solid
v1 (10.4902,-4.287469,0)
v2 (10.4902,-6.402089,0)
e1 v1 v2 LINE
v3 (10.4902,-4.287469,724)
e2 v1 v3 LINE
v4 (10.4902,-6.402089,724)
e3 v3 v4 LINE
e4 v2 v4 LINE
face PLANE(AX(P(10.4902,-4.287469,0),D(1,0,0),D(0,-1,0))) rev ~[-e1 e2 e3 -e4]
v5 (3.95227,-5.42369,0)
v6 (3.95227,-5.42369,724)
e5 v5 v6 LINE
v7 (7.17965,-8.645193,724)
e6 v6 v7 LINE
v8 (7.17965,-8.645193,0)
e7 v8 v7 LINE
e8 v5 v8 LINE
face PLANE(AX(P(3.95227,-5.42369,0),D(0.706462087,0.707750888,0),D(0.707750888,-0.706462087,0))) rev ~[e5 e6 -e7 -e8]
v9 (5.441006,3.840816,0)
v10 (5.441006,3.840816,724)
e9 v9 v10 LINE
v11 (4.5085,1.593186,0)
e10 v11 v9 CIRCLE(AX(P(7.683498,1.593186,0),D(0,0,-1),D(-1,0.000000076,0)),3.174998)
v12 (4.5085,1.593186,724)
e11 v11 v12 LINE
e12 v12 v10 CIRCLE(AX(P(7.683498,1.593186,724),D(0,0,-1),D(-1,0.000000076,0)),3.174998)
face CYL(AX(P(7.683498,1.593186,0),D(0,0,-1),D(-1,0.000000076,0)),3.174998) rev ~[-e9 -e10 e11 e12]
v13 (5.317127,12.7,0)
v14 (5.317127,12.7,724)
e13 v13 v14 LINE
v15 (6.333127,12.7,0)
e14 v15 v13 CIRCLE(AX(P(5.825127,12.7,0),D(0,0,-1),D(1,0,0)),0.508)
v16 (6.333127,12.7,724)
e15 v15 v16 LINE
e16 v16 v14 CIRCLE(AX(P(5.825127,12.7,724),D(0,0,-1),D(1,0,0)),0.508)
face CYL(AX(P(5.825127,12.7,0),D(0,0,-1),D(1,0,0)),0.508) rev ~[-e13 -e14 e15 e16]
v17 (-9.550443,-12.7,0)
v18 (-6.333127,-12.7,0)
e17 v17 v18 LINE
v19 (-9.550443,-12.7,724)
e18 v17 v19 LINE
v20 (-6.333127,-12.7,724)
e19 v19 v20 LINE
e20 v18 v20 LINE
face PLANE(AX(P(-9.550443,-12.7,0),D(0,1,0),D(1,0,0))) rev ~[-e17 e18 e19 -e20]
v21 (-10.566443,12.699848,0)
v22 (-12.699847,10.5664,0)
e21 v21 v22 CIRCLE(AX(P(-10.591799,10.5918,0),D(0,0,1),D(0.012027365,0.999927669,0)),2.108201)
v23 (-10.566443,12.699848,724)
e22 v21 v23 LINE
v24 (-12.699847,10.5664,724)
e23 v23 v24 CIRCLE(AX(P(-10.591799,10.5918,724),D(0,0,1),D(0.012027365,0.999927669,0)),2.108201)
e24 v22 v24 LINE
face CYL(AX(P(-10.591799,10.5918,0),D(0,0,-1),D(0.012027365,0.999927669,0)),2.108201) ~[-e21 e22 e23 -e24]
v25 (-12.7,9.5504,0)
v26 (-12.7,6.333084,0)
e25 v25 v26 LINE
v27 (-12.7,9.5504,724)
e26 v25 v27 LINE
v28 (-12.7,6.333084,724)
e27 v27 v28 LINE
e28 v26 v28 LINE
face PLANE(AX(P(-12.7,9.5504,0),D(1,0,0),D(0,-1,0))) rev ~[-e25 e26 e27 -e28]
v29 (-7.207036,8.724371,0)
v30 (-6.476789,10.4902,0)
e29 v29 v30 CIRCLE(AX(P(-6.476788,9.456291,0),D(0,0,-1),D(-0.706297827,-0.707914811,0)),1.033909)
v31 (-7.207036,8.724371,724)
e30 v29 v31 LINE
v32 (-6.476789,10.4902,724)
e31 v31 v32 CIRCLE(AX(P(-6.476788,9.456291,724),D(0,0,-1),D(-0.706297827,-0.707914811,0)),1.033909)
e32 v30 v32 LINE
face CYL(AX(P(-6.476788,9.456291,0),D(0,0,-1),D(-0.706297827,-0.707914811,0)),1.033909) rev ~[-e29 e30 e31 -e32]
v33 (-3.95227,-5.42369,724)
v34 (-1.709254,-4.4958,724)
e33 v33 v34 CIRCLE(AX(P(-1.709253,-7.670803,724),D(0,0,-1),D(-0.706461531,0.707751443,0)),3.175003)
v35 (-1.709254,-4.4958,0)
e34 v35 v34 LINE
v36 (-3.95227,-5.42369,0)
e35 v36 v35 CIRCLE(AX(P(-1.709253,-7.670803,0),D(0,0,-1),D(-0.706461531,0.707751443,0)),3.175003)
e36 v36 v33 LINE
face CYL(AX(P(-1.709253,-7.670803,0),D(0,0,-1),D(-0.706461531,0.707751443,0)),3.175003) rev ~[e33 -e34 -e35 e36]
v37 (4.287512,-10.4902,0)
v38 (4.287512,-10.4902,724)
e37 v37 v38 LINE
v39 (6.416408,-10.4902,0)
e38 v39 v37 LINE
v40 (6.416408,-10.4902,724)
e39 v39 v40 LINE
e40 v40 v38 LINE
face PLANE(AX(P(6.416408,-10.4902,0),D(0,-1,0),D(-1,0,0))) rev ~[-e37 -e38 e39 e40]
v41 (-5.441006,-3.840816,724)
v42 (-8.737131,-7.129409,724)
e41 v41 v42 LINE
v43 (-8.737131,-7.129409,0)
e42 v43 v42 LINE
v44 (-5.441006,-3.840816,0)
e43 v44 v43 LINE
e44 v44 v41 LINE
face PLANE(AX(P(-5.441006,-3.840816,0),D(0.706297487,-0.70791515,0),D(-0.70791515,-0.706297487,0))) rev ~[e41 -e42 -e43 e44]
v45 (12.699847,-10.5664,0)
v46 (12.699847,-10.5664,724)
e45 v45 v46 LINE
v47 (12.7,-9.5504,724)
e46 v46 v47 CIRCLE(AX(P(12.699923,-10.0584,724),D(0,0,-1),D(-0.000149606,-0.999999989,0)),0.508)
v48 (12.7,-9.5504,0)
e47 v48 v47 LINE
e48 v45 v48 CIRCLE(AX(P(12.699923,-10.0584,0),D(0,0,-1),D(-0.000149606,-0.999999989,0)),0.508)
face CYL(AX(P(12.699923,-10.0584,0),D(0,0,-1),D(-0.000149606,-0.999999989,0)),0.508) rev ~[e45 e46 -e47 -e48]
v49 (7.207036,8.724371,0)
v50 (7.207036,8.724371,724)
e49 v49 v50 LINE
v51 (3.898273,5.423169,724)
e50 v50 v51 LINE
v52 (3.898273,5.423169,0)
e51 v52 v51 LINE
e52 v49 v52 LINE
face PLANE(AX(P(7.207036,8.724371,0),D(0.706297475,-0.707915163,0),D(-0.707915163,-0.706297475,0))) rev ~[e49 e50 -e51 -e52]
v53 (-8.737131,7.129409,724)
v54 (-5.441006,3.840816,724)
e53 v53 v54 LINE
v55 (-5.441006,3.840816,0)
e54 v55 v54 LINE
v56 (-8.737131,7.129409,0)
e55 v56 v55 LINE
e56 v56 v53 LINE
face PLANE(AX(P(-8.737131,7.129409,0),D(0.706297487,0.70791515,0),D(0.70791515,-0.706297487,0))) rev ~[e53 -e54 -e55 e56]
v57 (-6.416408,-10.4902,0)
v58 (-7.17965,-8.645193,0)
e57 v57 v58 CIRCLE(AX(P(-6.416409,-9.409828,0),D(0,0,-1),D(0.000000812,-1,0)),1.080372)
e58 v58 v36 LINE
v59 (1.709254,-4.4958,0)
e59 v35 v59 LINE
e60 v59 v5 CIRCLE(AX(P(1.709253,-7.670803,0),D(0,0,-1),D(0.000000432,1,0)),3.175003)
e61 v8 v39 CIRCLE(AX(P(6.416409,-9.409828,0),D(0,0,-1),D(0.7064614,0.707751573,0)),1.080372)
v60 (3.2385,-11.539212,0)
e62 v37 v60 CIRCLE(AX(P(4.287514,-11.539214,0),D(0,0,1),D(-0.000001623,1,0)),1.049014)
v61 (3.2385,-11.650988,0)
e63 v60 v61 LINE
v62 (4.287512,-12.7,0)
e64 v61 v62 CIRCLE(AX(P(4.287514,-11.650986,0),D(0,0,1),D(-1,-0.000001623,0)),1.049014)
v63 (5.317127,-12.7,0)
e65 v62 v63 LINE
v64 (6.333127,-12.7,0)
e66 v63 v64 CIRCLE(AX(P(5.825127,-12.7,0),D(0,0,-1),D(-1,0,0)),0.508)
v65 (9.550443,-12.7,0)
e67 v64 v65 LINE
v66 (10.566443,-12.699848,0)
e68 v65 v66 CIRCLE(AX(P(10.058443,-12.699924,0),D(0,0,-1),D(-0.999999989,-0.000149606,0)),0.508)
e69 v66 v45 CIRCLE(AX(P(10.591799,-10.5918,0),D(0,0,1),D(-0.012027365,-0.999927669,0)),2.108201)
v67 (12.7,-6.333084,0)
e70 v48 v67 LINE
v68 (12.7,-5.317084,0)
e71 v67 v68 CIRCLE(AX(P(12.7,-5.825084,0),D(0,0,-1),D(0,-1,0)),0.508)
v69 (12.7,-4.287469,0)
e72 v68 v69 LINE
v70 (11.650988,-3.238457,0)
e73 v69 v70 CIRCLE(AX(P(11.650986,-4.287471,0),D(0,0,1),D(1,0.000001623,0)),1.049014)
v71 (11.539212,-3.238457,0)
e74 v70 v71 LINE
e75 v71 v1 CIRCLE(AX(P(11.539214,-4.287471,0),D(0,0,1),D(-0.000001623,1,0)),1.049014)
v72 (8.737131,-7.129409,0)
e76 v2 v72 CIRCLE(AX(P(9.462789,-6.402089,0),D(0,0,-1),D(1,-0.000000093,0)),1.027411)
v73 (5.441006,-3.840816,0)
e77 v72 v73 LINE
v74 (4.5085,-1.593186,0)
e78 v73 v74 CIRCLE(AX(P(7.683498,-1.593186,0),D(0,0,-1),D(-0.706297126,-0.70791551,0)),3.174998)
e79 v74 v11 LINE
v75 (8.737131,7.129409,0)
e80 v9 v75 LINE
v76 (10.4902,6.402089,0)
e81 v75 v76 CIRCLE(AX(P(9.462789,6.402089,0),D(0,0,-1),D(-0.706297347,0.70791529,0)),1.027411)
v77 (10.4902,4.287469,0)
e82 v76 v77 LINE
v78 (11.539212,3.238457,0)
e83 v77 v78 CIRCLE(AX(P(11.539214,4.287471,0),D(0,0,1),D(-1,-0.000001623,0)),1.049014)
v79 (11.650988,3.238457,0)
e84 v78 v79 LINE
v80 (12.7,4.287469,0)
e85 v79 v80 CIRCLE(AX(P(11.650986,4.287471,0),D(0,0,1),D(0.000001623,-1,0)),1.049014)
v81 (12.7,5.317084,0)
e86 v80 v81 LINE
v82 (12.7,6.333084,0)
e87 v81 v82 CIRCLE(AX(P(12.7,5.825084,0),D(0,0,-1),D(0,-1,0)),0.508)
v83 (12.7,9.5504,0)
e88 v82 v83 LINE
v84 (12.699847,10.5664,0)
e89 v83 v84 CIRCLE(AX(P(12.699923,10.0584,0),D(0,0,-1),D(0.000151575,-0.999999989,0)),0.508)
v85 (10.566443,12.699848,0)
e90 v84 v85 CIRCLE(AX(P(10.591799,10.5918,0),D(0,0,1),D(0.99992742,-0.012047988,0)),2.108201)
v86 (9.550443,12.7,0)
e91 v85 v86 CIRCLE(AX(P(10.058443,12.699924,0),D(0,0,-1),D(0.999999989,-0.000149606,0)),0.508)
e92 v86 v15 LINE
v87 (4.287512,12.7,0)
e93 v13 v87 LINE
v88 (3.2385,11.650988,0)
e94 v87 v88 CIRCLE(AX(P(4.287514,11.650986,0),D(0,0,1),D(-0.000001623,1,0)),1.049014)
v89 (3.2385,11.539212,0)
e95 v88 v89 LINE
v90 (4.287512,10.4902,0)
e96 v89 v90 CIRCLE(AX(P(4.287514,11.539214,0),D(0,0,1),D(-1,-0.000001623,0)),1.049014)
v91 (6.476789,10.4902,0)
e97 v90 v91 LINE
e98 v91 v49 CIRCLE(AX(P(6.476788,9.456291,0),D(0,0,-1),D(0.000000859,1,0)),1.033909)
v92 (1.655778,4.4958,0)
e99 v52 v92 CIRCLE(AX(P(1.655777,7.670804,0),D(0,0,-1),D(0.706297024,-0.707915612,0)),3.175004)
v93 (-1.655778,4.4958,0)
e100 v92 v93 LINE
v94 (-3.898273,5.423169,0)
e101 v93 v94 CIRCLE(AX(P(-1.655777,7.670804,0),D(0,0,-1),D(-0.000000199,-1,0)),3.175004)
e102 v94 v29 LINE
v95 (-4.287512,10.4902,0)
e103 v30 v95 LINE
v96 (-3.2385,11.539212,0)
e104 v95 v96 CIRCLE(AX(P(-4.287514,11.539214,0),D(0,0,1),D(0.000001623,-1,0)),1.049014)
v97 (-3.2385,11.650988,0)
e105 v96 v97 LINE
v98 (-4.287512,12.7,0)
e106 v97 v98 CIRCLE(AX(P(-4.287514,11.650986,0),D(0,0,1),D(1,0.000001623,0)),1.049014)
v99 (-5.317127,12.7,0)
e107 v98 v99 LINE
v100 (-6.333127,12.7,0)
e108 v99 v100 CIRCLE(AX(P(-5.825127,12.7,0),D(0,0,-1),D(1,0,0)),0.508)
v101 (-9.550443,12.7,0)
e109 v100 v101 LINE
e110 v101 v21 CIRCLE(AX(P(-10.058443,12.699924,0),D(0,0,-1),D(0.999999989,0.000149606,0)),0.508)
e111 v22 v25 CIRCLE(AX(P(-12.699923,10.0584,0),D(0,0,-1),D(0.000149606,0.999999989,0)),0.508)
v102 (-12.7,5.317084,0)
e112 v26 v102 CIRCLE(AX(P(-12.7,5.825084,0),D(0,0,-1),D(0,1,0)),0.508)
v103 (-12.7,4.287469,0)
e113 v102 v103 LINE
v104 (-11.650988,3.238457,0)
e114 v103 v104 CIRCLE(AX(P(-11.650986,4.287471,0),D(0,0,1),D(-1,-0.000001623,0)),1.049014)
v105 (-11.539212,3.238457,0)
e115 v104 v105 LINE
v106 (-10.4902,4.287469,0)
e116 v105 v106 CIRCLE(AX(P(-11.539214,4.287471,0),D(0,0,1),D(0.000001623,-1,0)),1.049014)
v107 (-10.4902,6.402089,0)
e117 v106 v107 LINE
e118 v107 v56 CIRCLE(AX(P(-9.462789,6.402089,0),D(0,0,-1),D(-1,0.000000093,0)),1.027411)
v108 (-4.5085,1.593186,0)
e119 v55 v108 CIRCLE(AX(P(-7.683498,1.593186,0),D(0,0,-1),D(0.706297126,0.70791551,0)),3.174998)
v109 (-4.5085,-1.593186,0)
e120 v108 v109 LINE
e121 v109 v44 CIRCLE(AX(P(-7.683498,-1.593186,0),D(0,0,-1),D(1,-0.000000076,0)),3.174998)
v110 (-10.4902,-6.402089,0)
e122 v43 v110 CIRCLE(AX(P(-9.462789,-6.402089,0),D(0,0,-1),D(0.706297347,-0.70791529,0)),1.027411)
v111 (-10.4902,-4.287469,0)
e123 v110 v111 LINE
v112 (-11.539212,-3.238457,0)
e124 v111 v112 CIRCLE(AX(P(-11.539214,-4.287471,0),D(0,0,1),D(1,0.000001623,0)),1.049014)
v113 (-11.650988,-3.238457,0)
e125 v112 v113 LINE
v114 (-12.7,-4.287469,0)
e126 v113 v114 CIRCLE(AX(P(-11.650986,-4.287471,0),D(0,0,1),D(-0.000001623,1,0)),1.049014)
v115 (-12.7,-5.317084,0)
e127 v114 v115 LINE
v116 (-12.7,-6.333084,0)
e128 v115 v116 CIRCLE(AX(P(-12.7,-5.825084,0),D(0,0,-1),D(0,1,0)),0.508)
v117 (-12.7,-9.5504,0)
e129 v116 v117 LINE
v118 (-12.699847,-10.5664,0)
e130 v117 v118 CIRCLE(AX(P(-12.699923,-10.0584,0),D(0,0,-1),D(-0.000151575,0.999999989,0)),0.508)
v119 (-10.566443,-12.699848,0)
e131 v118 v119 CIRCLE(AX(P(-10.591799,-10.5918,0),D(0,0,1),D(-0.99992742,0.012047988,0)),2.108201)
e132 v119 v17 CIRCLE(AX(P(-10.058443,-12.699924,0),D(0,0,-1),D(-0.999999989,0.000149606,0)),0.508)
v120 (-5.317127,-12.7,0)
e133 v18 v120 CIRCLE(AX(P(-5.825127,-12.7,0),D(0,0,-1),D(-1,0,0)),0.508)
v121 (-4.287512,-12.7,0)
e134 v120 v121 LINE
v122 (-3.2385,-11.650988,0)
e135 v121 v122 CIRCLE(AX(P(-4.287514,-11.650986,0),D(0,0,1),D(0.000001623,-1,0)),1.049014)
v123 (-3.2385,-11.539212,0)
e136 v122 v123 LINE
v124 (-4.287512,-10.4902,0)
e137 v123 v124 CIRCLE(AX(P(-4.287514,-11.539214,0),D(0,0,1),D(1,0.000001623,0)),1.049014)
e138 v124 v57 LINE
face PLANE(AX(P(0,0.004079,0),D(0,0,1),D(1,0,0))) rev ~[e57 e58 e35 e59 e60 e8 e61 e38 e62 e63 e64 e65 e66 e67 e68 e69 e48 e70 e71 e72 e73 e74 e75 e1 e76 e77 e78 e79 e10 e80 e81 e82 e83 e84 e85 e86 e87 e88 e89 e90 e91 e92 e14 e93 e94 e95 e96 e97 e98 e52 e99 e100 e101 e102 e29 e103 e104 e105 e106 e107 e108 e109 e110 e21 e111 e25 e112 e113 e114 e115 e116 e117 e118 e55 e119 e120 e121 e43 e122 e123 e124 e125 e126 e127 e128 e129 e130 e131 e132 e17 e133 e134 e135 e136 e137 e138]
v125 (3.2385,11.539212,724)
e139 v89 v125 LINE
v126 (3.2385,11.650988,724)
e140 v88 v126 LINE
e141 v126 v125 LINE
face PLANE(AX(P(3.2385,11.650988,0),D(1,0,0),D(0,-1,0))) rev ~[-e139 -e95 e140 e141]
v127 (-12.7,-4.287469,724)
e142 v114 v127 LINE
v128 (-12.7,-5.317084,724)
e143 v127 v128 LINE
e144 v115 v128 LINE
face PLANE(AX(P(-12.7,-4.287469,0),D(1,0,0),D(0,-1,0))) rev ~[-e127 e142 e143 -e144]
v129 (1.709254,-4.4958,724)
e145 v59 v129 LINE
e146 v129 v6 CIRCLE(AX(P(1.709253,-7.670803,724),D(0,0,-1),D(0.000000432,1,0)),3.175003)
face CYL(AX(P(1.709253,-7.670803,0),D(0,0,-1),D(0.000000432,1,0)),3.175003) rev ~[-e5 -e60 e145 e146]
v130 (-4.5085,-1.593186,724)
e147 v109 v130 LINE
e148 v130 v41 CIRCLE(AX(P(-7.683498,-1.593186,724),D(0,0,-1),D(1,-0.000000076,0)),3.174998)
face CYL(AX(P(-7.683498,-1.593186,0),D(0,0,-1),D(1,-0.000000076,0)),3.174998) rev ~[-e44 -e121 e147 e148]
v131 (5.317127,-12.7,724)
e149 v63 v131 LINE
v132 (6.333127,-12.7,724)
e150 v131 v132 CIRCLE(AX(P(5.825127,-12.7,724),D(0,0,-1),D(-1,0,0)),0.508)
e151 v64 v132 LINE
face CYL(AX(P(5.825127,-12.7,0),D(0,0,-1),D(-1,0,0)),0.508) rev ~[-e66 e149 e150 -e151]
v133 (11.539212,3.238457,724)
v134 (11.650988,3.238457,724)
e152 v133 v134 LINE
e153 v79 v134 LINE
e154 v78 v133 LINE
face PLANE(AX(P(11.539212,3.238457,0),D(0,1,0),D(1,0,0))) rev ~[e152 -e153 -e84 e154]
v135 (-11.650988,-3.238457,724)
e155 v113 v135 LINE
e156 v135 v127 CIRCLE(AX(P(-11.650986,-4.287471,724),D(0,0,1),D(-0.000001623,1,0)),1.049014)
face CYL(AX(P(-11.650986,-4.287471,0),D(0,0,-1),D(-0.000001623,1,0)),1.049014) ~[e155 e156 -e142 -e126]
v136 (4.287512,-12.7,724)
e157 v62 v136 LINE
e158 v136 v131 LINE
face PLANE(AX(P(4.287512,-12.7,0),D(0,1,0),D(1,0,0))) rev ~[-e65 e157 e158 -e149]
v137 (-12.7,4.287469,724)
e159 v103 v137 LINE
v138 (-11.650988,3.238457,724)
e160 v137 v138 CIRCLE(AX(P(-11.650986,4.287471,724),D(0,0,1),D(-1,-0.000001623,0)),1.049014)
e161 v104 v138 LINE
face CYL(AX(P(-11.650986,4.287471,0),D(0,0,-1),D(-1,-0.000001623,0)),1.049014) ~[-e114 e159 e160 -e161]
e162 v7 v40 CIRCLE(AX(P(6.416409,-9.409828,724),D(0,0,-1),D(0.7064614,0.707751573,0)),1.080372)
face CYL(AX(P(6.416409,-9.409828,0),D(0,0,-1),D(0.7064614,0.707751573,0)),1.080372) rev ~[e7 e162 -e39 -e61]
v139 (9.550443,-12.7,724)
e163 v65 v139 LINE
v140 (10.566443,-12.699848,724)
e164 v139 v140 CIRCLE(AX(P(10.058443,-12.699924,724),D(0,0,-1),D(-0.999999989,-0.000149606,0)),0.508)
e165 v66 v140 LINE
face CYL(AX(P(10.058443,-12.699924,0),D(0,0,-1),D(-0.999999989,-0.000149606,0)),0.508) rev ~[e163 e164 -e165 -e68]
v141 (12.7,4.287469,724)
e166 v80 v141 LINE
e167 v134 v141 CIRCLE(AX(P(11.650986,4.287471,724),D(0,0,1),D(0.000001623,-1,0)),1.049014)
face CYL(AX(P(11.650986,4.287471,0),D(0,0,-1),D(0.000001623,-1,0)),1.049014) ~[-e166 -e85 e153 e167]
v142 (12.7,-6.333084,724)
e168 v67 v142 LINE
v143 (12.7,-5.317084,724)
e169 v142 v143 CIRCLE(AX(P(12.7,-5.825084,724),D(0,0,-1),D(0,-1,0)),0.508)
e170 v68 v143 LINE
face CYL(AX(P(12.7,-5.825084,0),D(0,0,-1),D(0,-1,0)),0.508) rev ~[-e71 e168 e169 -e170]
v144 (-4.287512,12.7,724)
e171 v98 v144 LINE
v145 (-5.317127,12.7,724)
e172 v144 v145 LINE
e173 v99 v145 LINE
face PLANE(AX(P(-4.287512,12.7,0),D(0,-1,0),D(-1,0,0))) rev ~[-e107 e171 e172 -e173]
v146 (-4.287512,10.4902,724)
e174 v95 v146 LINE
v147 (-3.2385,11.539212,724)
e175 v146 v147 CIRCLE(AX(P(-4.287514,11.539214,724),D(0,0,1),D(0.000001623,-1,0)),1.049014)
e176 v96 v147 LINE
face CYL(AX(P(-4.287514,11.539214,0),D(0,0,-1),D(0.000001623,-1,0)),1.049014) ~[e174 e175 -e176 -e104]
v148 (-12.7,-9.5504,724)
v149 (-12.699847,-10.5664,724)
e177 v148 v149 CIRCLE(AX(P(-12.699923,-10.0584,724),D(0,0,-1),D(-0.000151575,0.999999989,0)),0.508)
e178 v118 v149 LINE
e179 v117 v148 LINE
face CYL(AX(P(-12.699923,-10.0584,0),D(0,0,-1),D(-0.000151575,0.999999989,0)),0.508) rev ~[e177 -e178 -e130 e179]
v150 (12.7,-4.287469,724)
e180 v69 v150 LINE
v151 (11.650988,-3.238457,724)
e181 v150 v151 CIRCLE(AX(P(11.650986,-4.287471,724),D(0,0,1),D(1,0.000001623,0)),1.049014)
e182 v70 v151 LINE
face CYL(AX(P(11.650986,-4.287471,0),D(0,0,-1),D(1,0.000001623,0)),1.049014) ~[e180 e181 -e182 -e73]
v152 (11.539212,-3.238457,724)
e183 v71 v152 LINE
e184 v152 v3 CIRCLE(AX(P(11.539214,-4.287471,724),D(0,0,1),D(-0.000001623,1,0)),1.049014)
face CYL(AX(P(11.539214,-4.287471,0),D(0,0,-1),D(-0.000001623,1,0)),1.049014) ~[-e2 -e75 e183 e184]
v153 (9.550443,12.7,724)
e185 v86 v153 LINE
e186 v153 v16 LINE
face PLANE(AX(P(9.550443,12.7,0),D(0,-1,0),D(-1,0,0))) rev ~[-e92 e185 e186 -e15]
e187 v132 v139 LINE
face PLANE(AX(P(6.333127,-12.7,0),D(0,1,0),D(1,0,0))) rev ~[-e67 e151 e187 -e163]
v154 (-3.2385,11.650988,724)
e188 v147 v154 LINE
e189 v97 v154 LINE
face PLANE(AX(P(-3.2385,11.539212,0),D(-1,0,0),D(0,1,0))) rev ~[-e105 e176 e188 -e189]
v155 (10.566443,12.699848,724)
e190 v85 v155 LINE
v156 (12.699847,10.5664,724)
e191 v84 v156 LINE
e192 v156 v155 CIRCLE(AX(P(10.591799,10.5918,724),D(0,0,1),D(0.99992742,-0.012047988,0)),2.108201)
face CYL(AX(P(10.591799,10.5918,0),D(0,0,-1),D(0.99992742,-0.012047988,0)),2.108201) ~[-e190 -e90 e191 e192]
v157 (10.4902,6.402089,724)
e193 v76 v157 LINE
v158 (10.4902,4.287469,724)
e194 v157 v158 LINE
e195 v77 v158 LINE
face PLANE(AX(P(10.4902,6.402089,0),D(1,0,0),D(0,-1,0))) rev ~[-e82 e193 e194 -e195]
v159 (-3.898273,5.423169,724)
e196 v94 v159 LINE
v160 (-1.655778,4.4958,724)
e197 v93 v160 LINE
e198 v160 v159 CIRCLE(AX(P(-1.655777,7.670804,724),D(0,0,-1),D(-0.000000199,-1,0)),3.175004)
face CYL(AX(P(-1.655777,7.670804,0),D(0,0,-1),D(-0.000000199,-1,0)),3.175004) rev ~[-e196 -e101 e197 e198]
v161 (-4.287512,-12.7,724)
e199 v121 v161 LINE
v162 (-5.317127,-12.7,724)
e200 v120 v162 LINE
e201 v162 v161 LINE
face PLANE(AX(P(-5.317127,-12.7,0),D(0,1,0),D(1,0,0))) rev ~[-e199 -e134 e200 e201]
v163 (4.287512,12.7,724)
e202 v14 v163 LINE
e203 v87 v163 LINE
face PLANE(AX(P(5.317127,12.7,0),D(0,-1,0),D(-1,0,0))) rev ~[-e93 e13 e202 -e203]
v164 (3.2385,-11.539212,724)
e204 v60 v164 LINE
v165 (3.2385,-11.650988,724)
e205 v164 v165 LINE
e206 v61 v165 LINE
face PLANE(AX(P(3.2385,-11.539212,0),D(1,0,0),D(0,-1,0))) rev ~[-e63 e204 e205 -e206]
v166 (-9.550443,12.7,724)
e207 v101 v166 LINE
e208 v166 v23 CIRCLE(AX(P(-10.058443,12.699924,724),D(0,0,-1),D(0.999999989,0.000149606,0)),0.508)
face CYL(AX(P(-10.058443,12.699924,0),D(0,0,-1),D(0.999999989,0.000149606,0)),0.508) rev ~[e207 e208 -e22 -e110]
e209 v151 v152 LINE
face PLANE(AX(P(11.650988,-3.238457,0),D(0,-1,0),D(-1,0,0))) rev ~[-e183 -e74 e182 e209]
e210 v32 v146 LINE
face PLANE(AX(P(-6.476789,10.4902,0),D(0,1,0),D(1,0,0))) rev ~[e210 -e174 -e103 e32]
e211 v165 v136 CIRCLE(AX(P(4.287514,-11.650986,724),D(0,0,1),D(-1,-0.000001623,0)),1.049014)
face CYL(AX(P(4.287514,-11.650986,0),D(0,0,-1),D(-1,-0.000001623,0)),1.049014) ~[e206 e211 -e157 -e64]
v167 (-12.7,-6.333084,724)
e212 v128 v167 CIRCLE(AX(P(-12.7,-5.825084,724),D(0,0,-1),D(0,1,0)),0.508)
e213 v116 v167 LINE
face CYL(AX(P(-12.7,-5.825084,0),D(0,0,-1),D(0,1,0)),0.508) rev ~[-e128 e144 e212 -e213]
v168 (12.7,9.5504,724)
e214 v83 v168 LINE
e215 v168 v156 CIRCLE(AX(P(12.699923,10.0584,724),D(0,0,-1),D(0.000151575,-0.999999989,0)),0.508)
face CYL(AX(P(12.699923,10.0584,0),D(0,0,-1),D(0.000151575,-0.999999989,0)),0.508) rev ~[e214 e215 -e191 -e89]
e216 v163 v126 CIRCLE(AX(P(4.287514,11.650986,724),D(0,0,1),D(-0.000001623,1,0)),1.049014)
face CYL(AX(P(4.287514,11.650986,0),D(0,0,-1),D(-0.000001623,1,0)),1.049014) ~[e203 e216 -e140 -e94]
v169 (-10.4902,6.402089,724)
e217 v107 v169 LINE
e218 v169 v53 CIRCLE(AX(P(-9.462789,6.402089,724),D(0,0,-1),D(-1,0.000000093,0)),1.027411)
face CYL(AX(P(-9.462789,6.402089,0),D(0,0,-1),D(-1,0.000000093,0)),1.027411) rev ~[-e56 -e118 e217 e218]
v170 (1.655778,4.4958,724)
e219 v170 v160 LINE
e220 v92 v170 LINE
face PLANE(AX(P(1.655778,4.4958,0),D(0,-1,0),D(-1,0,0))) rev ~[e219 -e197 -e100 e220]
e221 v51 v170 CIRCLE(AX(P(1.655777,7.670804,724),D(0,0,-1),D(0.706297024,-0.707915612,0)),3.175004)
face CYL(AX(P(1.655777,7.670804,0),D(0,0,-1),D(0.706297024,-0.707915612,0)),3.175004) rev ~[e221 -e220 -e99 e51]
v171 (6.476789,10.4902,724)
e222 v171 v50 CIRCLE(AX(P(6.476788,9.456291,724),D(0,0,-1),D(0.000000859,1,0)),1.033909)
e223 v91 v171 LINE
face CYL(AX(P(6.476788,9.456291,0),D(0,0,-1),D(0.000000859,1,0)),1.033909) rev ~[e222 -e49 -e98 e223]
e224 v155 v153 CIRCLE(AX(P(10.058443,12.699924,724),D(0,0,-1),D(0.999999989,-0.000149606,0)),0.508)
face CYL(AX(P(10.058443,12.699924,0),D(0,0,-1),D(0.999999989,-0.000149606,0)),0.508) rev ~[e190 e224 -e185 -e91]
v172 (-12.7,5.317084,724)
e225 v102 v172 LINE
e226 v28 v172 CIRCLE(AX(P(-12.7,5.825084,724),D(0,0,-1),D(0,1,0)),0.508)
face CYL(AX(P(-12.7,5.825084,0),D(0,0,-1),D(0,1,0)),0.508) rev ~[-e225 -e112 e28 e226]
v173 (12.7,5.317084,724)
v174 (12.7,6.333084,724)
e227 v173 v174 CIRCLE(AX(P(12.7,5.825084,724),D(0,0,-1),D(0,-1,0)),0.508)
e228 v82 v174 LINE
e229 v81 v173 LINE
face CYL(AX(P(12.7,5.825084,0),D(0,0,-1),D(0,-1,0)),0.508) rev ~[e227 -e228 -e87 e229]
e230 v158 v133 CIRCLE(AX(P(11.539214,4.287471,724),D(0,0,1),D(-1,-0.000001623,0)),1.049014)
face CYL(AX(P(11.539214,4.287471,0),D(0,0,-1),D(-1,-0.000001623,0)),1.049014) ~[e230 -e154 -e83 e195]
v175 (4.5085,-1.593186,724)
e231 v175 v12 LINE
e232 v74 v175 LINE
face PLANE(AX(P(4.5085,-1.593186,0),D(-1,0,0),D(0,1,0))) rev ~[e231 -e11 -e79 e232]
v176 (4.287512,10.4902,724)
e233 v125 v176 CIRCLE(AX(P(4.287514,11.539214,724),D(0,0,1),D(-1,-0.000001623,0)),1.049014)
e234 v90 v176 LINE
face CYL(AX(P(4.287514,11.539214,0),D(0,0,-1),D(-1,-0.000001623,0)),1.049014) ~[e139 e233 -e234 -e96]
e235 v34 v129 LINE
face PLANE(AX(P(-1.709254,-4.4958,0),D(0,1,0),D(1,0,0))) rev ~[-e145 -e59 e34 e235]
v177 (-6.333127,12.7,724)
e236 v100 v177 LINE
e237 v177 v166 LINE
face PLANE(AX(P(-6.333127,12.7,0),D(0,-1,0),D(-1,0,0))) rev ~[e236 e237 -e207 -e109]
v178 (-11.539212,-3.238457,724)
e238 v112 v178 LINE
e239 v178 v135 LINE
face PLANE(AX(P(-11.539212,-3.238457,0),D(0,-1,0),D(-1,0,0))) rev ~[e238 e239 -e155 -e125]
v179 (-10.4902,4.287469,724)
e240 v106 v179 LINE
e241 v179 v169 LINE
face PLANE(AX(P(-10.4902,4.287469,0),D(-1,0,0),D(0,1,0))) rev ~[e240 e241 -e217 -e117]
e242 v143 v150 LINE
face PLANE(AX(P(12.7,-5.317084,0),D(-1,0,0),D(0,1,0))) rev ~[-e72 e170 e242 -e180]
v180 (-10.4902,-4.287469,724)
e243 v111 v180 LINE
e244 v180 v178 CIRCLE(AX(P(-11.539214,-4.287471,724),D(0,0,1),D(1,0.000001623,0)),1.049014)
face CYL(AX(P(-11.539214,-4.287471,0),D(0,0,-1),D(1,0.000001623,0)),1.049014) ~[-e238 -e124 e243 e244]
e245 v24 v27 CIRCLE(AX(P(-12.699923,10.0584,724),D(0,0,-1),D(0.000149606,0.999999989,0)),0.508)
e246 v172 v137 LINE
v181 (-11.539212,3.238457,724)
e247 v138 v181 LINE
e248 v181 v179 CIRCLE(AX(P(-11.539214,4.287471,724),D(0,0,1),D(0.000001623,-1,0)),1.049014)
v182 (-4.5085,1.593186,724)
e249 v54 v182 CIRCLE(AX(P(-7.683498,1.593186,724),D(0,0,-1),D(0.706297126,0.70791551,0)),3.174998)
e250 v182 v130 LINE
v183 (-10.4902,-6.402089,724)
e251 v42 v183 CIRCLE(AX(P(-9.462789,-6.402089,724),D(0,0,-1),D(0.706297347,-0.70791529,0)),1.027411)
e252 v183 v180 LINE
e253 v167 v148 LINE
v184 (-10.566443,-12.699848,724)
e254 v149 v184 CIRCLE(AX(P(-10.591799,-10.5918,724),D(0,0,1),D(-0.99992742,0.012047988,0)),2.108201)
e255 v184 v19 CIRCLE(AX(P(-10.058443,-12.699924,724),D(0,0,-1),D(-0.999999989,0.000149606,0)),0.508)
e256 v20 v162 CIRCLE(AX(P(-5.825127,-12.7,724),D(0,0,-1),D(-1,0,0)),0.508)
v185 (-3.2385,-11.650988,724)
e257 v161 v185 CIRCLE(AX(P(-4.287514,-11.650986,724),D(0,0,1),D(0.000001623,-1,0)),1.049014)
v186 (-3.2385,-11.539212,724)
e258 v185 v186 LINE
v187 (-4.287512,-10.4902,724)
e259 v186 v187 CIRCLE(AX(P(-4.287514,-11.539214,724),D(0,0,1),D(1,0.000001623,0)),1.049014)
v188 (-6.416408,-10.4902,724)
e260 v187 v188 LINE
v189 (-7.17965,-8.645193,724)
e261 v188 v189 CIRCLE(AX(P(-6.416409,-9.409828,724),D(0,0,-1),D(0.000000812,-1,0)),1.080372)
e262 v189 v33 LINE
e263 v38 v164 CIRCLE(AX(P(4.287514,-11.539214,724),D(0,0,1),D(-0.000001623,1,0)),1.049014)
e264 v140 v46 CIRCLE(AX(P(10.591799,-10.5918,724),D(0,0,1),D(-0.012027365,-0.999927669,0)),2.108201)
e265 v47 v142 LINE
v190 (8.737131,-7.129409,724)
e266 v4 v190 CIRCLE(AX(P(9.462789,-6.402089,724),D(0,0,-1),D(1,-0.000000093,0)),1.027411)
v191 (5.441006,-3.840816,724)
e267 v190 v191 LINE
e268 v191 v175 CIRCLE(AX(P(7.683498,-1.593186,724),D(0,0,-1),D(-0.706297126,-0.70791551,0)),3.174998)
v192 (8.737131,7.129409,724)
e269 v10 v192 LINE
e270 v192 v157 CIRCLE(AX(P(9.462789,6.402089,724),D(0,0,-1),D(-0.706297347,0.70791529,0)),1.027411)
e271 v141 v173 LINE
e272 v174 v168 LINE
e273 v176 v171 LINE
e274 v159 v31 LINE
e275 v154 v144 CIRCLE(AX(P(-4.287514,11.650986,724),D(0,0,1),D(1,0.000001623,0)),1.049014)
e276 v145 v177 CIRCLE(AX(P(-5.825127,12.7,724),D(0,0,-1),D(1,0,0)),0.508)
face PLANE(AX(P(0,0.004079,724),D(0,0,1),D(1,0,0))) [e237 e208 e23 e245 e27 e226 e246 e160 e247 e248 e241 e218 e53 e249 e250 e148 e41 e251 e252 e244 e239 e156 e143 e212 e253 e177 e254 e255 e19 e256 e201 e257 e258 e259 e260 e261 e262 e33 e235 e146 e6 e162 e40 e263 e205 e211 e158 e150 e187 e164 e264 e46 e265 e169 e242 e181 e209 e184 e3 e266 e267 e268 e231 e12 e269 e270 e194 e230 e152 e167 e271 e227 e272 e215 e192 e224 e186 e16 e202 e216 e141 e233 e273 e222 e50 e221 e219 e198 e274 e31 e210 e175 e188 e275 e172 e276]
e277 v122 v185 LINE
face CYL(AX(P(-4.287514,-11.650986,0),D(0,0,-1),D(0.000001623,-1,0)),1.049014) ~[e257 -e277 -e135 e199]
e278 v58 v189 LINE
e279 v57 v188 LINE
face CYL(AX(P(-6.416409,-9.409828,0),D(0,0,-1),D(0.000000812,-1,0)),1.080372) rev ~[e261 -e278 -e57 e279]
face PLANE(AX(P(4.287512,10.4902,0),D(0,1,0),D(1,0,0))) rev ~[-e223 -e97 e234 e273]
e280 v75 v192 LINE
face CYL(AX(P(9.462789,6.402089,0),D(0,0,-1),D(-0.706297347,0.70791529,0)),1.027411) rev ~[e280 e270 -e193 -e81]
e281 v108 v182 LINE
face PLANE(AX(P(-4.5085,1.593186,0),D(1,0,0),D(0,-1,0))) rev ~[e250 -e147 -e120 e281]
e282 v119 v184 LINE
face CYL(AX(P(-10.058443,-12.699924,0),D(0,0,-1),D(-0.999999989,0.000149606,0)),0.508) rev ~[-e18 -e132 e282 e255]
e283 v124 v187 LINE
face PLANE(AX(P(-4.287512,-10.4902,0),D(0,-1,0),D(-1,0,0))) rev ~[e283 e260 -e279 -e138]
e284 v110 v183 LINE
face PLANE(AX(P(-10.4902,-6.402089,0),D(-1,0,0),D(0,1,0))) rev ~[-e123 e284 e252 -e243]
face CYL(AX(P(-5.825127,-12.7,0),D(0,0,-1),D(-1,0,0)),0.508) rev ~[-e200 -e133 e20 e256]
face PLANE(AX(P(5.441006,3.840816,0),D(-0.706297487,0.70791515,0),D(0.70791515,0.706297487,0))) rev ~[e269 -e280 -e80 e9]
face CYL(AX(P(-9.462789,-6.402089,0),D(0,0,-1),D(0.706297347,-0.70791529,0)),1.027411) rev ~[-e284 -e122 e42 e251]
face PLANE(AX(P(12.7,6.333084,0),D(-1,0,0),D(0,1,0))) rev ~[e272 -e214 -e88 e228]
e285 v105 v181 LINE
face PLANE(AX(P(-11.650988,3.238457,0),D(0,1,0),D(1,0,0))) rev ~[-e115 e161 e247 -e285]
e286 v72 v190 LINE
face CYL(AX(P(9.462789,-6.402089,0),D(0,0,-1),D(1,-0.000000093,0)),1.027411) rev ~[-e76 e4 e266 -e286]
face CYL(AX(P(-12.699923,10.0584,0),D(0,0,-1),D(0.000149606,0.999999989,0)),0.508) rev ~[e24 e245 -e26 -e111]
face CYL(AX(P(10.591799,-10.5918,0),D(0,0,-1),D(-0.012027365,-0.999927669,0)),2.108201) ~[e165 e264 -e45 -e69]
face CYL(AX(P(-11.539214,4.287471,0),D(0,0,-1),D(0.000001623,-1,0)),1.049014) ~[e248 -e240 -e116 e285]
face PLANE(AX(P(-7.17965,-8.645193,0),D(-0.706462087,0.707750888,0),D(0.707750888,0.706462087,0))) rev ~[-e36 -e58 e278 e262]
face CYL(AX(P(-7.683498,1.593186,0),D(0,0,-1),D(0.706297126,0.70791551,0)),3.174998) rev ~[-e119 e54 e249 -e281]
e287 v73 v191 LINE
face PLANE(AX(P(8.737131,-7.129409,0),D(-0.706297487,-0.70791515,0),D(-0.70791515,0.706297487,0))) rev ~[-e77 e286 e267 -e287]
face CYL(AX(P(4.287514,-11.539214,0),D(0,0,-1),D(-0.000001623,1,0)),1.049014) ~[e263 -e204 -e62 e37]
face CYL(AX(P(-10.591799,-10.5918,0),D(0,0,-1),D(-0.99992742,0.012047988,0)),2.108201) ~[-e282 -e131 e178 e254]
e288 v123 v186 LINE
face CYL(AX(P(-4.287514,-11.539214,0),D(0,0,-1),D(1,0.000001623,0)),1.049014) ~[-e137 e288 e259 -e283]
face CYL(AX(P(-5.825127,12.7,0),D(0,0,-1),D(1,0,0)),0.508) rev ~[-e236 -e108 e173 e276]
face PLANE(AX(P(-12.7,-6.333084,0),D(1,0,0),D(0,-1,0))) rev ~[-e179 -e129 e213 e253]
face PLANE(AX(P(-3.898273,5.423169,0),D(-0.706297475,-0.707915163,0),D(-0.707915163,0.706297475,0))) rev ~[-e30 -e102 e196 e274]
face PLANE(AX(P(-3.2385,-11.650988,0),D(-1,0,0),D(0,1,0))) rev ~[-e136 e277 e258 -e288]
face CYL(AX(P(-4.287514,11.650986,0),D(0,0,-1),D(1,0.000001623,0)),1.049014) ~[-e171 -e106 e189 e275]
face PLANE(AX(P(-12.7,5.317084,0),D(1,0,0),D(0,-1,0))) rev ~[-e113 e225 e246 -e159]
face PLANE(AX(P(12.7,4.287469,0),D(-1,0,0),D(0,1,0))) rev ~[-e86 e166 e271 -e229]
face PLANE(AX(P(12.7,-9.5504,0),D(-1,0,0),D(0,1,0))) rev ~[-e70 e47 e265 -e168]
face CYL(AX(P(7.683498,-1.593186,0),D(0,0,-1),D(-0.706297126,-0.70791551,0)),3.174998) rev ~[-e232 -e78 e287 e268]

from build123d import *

# Parameters (mm, degrees)
F1_DEPTH = 724


with BuildPart() as f1:
    # F0 (on Top) → F1 (new body)
    with BuildSketch(Plane.XY):
        with BuildLine():
            ThreePointArc((-10.4902, 6.402089), (-9.856505, 7.351068), (-8.737131, 7.129409))
            Line((-8.737131, 7.129409), (-5.441006, 3.840816))
            ThreePointArc((-5.441006, 3.840816), (-4.750878, 2.809883), (-4.5085, 1.593186))
            Line((-4.5085, 1.593186), (-4.5085, -1.593186))
            ThreePointArc((-4.5085, -1.593186), (-4.750878, -2.809883), (-5.441006, -3.840816))
            Line((-5.441006, -3.840816), (-8.737131, -7.129409))
            ThreePointArc((-8.737131, -7.129409), (-9.856505, -7.351068), (-10.4902, -6.402089))
            Line((-10.4902, -6.402089), (-10.4902, -4.287469))
            ThreePointArc((-10.4902, -4.287469), (-10.797449, -3.545706), (-11.539212, -3.238457))
            Line((-11.539212, -3.238457), (-11.650988, -3.238457))
            ThreePointArc((-11.650988, -3.238457), (-12.392751, -3.545706), (-12.7, -4.287469))
            Line((-12.7, -4.287469), (-12.7, -5.317084))
            ThreePointArc((-12.7, -5.317084), (-12.192, -5.825084), (-12.7, -6.333084))
            Line((-12.7, -6.333084), (-12.7, -9.5504))
            ThreePointArc((-12.7, -9.5504), (-12.191923, -10.058323), (-12.699847, -10.5664))
            ThreePointArc((-12.699847, -10.5664), (-12.082538, -12.082507), (-10.566443, -12.699848))
            ThreePointArc((-10.566443, -12.699848), (-10.058367, -12.191924), (-9.550443, -12.7))
            Line((-9.550443, -12.7), (-6.333127, -12.7))
            ThreePointArc((-6.333127, -12.7), (-5.825127, -12.192), (-5.317127, -12.7))
            Line((-5.317127, -12.7), (-4.287512, -12.7))
            ThreePointArc((-4.287512, -12.7), (-3.545749, -12.392751), (-3.2385, -11.650988))
            Line((-3.2385, -11.650988), (-3.2385, -11.539212))
            ThreePointArc((-3.2385, -11.539212), (-3.545749, -10.797449), (-4.287512, -10.4902))
            Line((-4.287512, -10.4902), (-6.416408, -10.4902))
            ThreePointArc((-6.416408, -10.4902), (-7.414731, -9.822813), (-7.17965, -8.645193))
            Line((-7.17965, -8.645193), (-3.95227, -5.42369))
            ThreePointArc((-3.95227, -5.42369), (-2.922936, -4.736929), (-1.709254, -4.4958))
            Line((-1.709254, -4.4958), (1.709254, -4.4958))
            ThreePointArc((1.709254, -4.4958), (2.922936, -4.736929), (3.95227, -5.42369))
            Line((3.95227, -5.42369), (7.17965, -8.645193))
            ThreePointArc((7.17965, -8.645193), (7.414731, -9.822813), (6.416408, -10.4902))
            Line((6.416408, -10.4902), (4.287512, -10.4902))
            ThreePointArc((4.287512, -10.4902), (3.545749, -10.797449), (3.2385, -11.539212))
            Line((3.2385, -11.539212), (3.2385, -11.650988))
            ThreePointArc((3.2385, -11.650988), (3.545749, -12.392751), (4.287512, -12.7))
            Line((4.287512, -12.7), (5.317127, -12.7))
            ThreePointArc((5.317127, -12.7), (5.825127, -12.192), (6.333127, -12.7))
            Line((6.333127, -12.7), (9.550443, -12.7))
            ThreePointArc((9.550443, -12.7), (10.058367, -12.191924), (10.566443, -12.699848))
            ThreePointArc((10.566443, -12.699848), (12.082538, -12.082507), (12.699847, -10.5664))
            ThreePointArc((12.699847, -10.5664), (12.191923, -10.058323), (12.7, -9.5504))
            Line((12.7, -9.5504), (12.7, -6.333084))
            ThreePointArc((12.7, -6.333084), (12.192, -5.825084), (12.7, -5.317084))
            Line((12.7, -5.317084), (12.7, -4.287469))
            ThreePointArc((12.7, -4.287469), (12.392751, -3.545706), (11.650988, -3.238457))
            Line((11.650988, -3.238457), (11.539212, -3.238457))
            ThreePointArc((11.539212, -3.238457), (10.797449, -3.545706), (10.4902, -4.287469))
            Line((10.4902, -4.287469), (10.4902, -6.402089))
            ThreePointArc((10.4902, -6.402089), (9.856505, -7.351068), (8.737131, -7.129409))
            Line((8.737131, -7.129409), (5.441006, -3.840816))
            ThreePointArc((5.441006, -3.840816), (4.750878, -2.809883), (4.5085, -1.593186))
            Line((4.5085, -1.593186), (4.5085, 1.593186))
            ThreePointArc((4.5085, 1.593186), (4.750878, 2.809883), (5.441006, 3.840816))
            Line((5.441006, 3.840816), (8.737131, 7.129409))
            ThreePointArc((8.737131, 7.129409), (9.856505, 7.351068), (10.4902, 6.402089))
            Line((10.4902, 6.402089), (10.4902, 4.287469))
            ThreePointArc((10.4902, 4.287469), (10.797449, 3.545706), (11.539212, 3.238457))
            Line((11.539212, 3.238457), (11.650988, 3.238457))
            ThreePointArc((11.650988, 3.238457), (12.392751, 3.545706), (12.7, 4.287469))
            Line((12.7, 4.287469), (12.7, 5.317084))
            ThreePointArc((12.7, 5.317084), (12.192, 5.825084), (12.7, 6.333084))
            Line((12.7, 6.333084), (12.7, 9.5504))
            ThreePointArc((12.7, 9.5504), (12.191923, 10.058323), (12.699847, 10.5664))
            ThreePointArc((12.699847, 10.5664), (12.082538, 12.082507), (10.566443, 12.699848))
            ThreePointArc((10.566443, 12.699848), (10.058367, 12.191924), (9.550443, 12.7))
            Line((9.550443, 12.7), (6.333127, 12.7))
            ThreePointArc((6.333127, 12.7), (5.825127, 12.192), (5.317127, 12.7))
            Line((5.317127, 12.7), (4.287512, 12.7))
            ThreePointArc((4.287512, 12.7), (3.545749, 12.392751), (3.2385, 11.650988))
            Line((3.2385, 11.650988), (3.2385, 11.539212))
            ThreePointArc((3.2385, 11.539212), (3.545749, 10.797449), (4.287512, 10.4902))
            Line((4.287512, 10.4902), (6.476789, 10.4902))
            ThreePointArc((6.476789, 10.4902), (7.432222, 9.851404), (7.207036, 8.724371))
            Line((7.207036, 8.724371), (3.898273, 5.423169))
            ThreePointArc((3.898273, 5.423169), (2.86912, 4.736788), (1.655778, 4.4958))
            Line((1.655778, 4.4958), (-1.655778, 4.4958))
            ThreePointArc((-1.655778, 4.4958), (-2.86912, 4.736788), (-3.898273, 5.423169))
            Line((-3.898273, 5.423169), (-7.207036, 8.724371))
            ThreePointArc((-7.207036, 8.724371), (-7.432222, 9.851404), (-6.476789, 10.4902))
            Line((-6.476789, 10.4902), (-4.287512, 10.4902))
            ThreePointArc((-4.287512, 10.4902), (-3.545749, 10.797449), (-3.2385, 11.539212))
            Line((-3.2385, 11.539212), (-3.2385, 11.650988))
            ThreePointArc((-3.2385, 11.650988), (-3.545749, 12.392751), (-4.287512, 12.7))
            Line((-4.287512, 12.7), (-5.317127, 12.7))
            ThreePointArc((-5.317127, 12.7), (-5.825127, 12.192), (-6.333127, 12.7))
            Line((-6.333127, 12.7), (-9.550443, 12.7))
            ThreePointArc((-9.550443, 12.7), (-10.058367, 12.191924), (-10.566443, 12.699848))
            ThreePointArc((-10.566443, 12.699848), (-12.082538, 12.082507), (-12.699847, 10.5664))
            ThreePointArc((-12.699847, 10.5664), (-12.191923, 10.058323), (-12.7, 9.5504))
            Line((-12.7, 9.5504), (-12.7, 6.333084))
            ThreePointArc((-12.7, 6.333084), (-12.192, 5.825084), (-12.7, 5.317084))
            Line((-12.7, 5.317084), (-12.7, 4.287469))
            ThreePointArc((-12.7, 4.287469), (-12.392751, 3.545706), (-11.650988, 3.238457))
            Line((-11.650988, 3.238457), (-11.539212, 3.238457))
            ThreePointArc((-11.539212, 3.238457), (-10.797449, 3.545706), (-10.4902, 4.287469))
            Line((-10.4902, 4.287469), (-10.4902, 6.402089))
        make_face()
    extrude(amount=F1_DEPTH)


solid = f1.part
